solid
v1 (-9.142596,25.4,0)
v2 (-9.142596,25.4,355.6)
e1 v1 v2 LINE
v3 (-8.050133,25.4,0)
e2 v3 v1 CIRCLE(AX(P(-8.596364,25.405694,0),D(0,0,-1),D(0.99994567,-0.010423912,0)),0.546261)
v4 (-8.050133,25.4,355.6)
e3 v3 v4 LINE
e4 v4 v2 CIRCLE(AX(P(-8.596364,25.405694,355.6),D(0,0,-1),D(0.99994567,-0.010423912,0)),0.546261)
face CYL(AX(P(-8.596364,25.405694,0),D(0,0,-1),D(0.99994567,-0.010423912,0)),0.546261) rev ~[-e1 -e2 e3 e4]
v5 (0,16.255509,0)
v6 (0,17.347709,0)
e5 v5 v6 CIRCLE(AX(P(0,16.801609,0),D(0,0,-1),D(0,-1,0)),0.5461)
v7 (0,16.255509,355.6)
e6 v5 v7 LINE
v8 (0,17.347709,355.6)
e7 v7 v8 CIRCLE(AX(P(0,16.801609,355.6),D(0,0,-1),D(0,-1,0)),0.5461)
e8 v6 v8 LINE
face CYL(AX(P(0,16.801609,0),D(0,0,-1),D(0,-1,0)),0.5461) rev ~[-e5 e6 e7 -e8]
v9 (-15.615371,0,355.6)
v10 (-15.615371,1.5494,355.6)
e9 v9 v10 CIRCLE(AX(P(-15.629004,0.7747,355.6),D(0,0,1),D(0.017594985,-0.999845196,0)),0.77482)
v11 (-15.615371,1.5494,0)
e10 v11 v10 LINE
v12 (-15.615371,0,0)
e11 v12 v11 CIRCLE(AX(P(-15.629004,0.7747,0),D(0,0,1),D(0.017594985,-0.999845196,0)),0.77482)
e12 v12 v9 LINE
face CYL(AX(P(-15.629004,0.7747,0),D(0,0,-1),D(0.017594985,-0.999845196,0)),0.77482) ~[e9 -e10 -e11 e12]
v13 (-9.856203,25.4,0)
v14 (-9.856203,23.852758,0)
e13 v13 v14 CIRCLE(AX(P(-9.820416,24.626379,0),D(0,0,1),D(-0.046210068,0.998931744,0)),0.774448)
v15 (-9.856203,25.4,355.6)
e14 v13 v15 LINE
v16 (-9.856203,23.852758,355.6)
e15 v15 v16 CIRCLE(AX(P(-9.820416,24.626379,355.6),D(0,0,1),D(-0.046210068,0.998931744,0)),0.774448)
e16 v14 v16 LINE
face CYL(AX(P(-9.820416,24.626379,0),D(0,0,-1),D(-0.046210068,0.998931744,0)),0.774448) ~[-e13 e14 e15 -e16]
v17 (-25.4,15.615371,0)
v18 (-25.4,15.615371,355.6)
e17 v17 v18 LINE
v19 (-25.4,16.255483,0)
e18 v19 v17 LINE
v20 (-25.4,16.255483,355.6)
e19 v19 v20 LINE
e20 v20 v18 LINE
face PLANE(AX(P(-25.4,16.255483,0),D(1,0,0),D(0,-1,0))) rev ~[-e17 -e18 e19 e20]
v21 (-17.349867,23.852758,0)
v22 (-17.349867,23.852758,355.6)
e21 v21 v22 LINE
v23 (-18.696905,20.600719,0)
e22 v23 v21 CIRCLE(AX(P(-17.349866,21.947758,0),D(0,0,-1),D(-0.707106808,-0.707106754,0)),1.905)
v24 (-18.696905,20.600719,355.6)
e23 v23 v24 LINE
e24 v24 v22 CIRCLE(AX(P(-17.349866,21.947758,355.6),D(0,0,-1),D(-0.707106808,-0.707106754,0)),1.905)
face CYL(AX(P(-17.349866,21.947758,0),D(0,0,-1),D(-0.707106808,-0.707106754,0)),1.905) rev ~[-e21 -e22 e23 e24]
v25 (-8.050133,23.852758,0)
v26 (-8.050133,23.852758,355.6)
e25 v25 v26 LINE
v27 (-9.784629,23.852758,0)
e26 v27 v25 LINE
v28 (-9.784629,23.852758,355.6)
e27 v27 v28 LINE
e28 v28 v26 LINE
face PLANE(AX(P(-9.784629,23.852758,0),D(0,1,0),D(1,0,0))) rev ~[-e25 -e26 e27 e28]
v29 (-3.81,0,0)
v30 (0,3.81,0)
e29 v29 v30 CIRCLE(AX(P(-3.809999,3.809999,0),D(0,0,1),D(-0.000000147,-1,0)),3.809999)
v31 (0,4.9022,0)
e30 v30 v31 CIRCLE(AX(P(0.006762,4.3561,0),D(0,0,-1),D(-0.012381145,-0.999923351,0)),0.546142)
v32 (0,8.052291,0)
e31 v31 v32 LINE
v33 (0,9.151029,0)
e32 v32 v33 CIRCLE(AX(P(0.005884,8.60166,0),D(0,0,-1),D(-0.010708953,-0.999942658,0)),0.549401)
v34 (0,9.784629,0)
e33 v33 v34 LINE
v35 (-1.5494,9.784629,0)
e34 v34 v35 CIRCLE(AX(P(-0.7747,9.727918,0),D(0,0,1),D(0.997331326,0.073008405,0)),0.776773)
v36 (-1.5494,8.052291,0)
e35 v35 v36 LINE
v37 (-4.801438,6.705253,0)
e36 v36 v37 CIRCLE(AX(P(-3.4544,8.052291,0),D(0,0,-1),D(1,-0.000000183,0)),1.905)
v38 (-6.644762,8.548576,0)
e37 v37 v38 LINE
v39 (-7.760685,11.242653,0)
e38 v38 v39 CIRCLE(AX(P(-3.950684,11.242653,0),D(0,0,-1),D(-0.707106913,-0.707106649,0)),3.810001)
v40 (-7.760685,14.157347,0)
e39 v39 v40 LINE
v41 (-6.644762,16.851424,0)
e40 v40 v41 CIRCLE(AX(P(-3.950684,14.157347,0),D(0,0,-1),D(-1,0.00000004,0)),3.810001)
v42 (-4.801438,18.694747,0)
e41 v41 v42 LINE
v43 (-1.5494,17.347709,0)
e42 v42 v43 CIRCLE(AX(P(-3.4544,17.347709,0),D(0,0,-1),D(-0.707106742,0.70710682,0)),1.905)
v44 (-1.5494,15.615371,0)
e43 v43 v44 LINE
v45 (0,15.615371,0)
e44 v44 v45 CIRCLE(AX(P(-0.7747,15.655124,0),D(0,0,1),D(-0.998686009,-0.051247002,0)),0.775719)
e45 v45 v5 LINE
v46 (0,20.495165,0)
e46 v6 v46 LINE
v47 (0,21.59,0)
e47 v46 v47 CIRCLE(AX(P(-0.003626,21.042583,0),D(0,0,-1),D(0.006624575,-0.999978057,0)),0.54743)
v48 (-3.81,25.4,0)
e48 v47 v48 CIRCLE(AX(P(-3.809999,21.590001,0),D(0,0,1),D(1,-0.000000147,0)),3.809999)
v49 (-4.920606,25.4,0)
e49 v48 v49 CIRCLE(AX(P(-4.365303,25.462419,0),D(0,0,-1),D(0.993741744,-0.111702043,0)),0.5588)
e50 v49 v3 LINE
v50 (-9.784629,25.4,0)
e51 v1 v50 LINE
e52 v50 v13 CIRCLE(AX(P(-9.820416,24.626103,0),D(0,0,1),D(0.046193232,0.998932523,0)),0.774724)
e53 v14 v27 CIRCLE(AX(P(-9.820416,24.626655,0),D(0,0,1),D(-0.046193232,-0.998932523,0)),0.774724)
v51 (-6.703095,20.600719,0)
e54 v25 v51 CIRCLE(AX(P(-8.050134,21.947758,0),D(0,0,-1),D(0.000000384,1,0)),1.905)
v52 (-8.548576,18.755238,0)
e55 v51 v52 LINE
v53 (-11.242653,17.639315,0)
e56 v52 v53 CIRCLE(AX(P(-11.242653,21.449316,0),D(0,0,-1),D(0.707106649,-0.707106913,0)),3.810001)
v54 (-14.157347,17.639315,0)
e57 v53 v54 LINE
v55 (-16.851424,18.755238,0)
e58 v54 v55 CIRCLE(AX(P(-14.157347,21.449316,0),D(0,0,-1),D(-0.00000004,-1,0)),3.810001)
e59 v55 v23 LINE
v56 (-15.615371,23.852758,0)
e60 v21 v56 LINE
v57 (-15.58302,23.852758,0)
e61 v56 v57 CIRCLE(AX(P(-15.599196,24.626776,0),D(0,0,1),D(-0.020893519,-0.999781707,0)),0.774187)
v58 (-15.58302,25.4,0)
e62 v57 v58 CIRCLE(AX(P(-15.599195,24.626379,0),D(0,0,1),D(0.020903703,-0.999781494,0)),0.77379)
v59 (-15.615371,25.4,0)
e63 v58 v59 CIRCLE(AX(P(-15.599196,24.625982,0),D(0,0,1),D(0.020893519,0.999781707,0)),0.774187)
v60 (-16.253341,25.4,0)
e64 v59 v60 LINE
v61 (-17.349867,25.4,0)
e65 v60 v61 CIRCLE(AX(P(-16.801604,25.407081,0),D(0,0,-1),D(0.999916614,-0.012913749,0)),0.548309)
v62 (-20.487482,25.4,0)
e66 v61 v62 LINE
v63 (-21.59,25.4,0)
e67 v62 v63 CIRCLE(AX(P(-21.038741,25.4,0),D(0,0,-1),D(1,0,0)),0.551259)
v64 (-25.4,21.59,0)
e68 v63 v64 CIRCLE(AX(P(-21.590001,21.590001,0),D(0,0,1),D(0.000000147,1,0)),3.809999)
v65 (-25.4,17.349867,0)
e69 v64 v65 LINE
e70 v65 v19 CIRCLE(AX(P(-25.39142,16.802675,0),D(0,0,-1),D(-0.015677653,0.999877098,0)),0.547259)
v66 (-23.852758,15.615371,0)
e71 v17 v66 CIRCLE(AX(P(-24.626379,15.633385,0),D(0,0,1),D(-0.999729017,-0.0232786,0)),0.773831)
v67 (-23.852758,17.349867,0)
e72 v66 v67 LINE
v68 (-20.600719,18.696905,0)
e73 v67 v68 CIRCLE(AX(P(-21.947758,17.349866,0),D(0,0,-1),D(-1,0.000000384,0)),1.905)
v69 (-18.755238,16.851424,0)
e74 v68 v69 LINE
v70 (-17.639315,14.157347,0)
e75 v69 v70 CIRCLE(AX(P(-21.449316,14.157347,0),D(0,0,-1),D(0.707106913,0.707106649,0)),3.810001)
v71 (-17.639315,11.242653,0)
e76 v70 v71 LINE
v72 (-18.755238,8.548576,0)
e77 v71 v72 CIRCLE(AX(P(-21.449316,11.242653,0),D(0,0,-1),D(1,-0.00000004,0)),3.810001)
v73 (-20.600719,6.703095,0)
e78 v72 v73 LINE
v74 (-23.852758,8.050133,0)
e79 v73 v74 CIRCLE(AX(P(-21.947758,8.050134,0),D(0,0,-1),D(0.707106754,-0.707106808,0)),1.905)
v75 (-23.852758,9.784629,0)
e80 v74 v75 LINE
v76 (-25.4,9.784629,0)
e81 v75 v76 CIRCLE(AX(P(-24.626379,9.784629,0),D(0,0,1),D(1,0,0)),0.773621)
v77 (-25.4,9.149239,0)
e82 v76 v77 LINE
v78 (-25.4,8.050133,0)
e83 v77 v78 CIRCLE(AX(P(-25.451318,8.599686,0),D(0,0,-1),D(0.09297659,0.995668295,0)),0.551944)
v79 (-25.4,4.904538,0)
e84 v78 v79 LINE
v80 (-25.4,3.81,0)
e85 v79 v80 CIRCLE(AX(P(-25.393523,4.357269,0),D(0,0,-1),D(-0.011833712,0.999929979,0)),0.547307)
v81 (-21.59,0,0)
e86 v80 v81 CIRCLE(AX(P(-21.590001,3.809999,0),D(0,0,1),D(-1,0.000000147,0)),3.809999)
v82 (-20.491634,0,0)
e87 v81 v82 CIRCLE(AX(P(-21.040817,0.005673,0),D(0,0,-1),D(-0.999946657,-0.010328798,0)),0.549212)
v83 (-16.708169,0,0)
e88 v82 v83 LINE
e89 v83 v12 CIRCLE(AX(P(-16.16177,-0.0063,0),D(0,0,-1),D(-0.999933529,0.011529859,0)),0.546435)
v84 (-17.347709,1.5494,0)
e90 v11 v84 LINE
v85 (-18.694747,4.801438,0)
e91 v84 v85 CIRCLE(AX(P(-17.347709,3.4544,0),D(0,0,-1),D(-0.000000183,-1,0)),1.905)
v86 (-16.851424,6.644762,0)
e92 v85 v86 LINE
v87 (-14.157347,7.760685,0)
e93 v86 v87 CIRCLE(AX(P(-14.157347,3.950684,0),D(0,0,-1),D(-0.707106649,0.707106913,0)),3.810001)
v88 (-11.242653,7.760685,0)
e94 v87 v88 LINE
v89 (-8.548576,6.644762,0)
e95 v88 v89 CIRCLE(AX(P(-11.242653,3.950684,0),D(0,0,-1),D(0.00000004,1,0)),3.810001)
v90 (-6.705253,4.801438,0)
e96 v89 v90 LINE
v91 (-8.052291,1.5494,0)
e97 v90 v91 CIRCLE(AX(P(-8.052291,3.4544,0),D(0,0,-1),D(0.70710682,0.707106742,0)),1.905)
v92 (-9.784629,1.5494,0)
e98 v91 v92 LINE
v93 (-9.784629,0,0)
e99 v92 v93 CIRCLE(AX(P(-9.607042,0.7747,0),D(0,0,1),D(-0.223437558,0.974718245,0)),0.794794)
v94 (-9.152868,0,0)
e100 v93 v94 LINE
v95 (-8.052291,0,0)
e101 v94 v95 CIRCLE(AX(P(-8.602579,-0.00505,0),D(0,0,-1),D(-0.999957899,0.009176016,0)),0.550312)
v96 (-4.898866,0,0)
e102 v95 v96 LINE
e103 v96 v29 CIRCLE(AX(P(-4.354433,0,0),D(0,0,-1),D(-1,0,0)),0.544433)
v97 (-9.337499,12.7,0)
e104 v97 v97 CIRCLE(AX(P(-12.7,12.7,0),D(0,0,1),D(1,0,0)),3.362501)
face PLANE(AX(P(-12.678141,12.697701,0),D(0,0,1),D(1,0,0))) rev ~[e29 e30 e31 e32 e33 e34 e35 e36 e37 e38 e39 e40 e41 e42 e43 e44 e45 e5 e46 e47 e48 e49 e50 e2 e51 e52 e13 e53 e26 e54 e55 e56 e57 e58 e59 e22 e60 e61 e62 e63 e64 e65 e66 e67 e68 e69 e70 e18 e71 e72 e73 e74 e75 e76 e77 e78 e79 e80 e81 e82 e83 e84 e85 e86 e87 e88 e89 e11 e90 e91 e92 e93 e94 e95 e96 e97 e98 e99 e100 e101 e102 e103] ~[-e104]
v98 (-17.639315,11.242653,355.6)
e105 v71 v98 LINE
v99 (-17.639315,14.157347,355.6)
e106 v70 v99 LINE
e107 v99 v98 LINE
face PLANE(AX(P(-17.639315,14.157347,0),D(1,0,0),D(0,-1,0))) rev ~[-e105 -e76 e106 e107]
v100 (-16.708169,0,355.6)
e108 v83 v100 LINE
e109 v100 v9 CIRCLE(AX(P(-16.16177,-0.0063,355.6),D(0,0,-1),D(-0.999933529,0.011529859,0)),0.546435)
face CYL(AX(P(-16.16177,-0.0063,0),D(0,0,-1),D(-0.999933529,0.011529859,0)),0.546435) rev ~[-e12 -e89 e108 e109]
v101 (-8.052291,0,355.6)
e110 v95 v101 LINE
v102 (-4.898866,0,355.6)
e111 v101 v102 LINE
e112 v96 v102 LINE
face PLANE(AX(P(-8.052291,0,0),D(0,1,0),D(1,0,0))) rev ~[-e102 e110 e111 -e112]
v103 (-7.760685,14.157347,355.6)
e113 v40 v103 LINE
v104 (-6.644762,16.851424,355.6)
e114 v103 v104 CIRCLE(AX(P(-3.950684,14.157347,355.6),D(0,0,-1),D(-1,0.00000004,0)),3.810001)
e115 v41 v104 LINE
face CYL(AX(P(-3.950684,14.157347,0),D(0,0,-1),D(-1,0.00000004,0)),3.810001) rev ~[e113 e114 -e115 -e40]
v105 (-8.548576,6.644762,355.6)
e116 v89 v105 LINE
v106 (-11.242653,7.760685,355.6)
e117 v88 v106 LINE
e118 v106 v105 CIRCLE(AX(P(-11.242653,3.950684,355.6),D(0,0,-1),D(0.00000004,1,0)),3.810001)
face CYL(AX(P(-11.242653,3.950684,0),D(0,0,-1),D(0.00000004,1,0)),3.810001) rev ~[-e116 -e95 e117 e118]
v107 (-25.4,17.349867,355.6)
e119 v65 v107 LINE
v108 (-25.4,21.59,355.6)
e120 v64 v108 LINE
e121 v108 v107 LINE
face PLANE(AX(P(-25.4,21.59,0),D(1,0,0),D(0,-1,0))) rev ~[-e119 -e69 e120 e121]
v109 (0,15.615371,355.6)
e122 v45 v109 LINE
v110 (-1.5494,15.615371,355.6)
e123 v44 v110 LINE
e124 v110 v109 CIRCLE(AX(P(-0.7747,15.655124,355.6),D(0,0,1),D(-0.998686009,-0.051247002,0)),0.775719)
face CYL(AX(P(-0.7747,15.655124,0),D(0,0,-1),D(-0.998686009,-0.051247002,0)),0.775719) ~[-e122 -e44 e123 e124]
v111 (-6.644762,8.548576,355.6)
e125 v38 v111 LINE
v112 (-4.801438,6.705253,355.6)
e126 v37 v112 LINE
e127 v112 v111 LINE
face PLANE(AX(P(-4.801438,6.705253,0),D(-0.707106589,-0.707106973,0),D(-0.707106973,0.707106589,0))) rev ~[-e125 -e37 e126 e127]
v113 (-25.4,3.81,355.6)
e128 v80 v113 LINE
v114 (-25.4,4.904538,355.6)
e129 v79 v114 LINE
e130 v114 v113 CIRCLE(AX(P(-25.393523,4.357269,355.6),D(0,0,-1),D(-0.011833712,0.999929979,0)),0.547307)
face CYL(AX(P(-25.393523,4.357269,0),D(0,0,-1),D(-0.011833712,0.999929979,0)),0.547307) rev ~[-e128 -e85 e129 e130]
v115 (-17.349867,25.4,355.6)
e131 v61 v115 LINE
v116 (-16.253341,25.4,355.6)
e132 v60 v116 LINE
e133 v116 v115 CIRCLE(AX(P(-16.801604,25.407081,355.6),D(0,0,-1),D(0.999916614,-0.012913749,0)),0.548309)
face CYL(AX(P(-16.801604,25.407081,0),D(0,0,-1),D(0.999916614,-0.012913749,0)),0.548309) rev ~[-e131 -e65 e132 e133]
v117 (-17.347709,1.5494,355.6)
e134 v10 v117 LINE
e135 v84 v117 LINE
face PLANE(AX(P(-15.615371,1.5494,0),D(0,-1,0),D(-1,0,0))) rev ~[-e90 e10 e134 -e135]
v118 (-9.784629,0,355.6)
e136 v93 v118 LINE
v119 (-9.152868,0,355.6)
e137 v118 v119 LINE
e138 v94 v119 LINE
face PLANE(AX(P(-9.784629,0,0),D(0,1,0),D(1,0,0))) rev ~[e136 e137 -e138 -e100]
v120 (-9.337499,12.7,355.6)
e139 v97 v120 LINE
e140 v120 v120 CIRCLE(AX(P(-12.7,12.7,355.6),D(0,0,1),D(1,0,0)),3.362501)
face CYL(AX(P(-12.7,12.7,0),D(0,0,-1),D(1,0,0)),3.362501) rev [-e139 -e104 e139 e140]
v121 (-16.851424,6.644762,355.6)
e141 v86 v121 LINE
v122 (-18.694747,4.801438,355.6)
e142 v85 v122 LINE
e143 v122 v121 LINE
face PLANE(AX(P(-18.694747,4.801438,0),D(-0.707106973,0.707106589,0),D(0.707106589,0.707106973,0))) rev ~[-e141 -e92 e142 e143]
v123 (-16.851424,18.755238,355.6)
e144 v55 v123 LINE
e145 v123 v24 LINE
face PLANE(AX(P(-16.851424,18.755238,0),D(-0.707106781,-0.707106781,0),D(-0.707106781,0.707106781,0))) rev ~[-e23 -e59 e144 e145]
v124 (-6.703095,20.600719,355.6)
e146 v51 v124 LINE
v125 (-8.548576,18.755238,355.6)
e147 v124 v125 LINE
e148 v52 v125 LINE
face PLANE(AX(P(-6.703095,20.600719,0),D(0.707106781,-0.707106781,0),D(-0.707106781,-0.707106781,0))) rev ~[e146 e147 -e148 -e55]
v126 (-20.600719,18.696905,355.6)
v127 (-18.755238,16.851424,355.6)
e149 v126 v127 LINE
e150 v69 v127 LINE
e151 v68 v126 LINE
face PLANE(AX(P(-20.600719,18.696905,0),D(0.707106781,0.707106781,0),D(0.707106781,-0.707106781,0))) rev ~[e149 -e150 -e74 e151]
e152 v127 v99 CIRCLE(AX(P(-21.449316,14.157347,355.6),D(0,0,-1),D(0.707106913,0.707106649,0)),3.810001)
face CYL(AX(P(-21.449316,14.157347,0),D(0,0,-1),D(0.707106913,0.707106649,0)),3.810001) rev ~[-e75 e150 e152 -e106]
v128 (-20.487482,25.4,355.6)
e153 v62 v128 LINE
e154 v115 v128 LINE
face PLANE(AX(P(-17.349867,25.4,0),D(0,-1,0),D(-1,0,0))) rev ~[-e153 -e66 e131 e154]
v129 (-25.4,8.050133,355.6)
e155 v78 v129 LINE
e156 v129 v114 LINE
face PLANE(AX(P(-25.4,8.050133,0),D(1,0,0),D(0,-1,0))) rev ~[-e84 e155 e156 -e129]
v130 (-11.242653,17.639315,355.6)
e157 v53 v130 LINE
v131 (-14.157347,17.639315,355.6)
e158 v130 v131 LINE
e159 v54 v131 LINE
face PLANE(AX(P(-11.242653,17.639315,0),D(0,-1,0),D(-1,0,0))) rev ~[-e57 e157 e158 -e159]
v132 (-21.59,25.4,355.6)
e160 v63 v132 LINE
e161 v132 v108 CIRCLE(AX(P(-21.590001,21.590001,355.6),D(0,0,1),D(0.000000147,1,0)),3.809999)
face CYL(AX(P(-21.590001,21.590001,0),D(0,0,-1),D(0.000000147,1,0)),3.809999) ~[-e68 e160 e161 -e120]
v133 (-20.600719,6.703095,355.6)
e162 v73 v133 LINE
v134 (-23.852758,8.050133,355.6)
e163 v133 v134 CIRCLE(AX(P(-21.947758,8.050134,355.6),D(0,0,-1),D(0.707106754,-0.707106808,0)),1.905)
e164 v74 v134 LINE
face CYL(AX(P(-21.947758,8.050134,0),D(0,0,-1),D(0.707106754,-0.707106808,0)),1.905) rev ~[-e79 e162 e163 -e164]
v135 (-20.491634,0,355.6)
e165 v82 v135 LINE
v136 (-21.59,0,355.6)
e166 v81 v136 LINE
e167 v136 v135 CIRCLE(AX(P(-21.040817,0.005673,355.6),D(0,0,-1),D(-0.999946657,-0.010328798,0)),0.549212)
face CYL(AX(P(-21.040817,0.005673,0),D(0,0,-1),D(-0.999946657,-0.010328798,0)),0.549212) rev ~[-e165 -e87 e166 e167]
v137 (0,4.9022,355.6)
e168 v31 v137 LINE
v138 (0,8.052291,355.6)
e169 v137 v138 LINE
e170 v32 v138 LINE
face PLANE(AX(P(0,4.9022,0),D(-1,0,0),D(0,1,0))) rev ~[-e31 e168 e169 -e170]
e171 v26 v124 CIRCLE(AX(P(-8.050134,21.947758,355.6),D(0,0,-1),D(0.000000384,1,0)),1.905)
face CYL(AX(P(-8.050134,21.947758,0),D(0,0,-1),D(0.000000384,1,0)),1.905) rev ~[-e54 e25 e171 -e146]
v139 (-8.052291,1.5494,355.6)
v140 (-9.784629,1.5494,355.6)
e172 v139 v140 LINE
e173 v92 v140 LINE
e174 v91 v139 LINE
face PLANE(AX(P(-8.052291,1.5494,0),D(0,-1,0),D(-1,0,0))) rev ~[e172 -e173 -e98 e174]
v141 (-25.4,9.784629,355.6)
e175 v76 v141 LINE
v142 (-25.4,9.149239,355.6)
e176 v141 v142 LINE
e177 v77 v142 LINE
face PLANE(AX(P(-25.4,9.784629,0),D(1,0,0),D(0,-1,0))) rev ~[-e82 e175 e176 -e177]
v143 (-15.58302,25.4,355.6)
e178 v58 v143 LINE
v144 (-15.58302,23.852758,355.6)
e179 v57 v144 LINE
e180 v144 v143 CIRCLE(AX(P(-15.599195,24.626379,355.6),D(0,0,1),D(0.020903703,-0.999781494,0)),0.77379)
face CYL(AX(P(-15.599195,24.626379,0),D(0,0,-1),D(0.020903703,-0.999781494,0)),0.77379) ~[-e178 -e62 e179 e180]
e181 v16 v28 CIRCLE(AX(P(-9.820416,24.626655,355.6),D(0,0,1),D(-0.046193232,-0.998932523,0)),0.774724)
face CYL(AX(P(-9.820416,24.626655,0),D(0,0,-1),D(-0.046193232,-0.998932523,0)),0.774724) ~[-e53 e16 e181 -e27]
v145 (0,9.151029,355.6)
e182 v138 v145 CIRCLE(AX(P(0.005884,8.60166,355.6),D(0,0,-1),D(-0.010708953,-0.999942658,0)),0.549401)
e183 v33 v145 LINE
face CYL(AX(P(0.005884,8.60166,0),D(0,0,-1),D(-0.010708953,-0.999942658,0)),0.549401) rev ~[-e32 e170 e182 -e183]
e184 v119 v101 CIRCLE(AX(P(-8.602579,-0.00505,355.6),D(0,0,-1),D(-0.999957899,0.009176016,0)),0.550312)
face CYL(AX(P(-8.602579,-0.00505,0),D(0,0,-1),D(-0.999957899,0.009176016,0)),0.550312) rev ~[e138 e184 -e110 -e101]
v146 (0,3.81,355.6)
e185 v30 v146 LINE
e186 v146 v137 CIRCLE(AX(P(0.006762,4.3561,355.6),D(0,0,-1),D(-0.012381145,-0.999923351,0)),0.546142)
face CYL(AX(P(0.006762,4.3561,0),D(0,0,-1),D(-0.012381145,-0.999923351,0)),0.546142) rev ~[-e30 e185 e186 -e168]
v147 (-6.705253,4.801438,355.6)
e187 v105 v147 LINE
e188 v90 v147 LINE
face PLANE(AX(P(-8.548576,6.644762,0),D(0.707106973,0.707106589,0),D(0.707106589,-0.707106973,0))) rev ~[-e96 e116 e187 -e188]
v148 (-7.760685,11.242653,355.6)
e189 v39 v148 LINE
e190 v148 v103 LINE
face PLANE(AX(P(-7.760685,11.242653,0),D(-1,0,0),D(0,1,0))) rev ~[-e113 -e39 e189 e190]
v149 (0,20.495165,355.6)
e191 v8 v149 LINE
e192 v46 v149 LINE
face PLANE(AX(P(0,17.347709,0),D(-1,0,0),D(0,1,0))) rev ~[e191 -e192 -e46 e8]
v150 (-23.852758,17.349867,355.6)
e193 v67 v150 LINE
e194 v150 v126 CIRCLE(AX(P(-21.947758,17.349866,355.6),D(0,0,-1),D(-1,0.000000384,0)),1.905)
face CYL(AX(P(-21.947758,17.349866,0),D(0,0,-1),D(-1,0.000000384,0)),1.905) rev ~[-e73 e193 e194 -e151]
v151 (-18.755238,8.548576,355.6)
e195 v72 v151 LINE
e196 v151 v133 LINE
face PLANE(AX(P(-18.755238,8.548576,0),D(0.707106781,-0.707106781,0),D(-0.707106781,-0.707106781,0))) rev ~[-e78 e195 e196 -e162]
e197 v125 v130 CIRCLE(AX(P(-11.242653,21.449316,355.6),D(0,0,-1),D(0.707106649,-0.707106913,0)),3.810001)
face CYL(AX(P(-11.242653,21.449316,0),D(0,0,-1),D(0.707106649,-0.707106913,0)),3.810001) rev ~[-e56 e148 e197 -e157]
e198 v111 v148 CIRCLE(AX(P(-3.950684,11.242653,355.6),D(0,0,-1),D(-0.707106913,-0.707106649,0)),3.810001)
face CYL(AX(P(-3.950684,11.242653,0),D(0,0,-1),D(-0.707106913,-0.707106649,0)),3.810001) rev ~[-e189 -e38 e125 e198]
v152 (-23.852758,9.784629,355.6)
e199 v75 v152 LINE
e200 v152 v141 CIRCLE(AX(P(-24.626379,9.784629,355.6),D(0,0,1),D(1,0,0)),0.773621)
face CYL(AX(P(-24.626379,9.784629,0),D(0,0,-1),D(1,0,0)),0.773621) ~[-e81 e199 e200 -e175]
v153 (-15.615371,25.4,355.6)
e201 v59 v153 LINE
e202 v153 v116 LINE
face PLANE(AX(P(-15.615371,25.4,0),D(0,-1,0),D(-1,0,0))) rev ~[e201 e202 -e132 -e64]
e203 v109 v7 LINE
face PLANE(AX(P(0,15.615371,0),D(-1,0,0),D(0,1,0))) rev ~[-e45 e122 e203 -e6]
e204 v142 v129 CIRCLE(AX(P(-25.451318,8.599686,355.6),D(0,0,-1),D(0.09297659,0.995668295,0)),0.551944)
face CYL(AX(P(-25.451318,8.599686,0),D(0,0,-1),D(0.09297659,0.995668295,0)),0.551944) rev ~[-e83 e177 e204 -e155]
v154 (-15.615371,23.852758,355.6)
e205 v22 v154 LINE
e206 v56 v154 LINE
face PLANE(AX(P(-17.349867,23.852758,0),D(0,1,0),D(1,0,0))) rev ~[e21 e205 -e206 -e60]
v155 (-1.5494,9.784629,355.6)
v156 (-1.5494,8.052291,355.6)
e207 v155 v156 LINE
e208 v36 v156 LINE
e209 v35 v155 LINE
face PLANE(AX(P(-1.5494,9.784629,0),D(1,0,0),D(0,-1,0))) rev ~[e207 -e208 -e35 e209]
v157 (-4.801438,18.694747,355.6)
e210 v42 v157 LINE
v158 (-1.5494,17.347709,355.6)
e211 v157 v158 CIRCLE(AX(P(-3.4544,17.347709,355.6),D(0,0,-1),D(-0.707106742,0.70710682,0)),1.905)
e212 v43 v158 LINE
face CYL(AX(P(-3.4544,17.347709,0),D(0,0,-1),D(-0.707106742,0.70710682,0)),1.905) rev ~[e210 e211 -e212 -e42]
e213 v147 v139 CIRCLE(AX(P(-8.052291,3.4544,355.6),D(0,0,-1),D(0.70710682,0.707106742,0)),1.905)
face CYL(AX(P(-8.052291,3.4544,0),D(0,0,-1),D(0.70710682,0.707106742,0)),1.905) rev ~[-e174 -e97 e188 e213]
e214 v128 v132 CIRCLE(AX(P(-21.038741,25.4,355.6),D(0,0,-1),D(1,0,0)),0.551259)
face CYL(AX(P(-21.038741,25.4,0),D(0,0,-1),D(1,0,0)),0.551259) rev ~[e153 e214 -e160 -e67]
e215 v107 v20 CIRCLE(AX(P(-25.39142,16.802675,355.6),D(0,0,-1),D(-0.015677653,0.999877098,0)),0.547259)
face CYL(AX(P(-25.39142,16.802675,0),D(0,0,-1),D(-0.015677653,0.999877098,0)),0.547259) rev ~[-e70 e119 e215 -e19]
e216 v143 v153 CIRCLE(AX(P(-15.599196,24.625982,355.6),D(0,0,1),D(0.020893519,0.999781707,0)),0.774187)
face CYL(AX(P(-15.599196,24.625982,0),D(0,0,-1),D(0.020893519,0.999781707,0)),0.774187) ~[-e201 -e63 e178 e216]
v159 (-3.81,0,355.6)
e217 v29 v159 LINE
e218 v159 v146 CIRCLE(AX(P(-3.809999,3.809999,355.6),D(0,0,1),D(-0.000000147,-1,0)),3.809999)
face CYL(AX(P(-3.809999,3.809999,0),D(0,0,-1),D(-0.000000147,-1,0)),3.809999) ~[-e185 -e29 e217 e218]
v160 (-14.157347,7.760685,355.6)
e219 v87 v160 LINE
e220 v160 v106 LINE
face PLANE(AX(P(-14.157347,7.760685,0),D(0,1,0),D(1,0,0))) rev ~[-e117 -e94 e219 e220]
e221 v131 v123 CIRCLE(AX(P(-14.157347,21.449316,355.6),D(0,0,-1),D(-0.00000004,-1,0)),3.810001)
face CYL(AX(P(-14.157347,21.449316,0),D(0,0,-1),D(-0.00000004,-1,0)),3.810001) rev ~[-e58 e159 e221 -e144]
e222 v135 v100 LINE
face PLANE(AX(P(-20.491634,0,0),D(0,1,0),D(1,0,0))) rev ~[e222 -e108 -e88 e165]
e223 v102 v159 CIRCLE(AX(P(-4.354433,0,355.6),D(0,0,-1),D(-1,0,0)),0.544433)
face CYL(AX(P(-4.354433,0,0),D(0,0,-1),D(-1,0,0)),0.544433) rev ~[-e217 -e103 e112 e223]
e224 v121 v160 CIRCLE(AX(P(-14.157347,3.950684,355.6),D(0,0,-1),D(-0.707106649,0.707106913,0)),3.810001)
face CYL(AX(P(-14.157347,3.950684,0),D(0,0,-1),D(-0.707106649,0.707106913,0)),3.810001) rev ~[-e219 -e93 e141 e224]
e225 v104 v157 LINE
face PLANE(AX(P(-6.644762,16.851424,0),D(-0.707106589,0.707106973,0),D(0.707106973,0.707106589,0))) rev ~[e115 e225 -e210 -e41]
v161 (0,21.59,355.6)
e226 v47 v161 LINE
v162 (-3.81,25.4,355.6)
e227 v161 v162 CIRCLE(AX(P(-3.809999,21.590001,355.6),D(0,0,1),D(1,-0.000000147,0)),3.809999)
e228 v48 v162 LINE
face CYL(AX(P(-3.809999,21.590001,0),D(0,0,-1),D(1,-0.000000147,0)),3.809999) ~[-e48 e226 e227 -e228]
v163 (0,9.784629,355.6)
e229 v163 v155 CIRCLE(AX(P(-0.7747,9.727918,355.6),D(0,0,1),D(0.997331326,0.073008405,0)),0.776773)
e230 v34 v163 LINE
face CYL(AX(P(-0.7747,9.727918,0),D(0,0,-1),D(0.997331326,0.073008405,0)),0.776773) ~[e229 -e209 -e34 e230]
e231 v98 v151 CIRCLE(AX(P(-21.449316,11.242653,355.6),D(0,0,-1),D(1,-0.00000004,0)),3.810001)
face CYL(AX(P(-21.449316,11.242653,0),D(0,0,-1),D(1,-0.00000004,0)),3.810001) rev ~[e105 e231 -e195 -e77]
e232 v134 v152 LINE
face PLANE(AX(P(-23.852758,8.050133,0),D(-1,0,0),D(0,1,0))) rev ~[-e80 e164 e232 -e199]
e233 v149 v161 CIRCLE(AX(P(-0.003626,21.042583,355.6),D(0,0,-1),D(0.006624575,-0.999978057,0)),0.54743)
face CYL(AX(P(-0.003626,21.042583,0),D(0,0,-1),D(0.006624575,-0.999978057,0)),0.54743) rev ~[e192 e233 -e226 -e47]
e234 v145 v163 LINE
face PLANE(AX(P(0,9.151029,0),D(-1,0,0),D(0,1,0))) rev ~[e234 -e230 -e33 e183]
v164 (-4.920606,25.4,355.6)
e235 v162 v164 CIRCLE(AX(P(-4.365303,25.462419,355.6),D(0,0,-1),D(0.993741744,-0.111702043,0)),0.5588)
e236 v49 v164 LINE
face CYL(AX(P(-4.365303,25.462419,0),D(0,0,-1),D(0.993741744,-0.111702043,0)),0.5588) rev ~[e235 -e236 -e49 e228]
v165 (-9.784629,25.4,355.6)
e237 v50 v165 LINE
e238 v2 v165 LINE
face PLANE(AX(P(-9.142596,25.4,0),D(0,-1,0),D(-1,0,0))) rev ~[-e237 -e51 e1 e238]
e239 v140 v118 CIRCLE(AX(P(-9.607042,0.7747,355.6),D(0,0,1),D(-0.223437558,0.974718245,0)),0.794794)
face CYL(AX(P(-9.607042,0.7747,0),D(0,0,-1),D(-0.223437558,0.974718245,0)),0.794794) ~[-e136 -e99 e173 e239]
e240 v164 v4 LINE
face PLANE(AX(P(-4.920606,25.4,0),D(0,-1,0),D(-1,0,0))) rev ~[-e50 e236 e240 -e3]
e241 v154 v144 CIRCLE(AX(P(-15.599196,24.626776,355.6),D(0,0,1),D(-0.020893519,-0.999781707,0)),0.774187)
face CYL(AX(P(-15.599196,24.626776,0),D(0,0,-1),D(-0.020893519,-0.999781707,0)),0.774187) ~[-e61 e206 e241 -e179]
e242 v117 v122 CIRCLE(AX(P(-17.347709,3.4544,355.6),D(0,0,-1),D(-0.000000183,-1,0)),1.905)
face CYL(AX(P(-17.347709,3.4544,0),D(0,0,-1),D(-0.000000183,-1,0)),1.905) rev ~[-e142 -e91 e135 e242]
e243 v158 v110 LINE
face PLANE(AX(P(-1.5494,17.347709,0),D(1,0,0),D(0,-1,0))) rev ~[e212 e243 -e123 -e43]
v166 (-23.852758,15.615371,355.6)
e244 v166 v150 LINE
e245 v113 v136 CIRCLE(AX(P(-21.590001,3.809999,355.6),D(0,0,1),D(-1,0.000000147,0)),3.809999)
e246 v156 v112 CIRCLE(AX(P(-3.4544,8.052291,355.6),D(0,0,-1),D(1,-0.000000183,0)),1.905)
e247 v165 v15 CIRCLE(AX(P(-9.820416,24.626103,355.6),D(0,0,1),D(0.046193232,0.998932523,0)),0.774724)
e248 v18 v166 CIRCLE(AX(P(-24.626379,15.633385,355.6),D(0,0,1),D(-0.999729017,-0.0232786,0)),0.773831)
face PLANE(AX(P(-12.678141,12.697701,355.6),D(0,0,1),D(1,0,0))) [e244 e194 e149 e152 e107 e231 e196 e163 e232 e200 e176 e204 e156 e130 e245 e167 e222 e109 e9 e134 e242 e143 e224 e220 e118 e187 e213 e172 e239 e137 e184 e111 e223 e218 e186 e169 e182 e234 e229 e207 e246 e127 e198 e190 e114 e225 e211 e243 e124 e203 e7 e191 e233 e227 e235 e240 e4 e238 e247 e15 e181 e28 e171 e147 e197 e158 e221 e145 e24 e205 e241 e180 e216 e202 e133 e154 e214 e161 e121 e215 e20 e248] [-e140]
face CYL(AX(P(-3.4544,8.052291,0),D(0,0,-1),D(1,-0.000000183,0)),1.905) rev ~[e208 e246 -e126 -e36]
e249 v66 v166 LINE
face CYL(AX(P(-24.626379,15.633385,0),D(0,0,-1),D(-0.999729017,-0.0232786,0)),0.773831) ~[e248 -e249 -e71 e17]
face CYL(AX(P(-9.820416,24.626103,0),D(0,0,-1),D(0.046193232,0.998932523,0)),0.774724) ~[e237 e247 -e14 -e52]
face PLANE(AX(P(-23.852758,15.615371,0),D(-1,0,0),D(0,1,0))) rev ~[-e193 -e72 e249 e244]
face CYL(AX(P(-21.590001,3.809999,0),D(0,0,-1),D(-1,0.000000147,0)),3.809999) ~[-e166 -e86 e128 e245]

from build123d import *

# Parameters (mm, degrees)
F0_R     = 3.362501
F1_DEPTH = 355.6


with BuildPart() as f1:
    # F0 (on Top) → F1 (new body)
    with BuildSketch(Plane.XY):
        with BuildLine():
            ThreePointArc((-8.548576, 18.755238), (-9.784629, 17.929334), (-11.242653, 17.639315))
            Line((-11.242653, 17.639315), (-14.157347, 17.639315))
            ThreePointArc((-14.157347, 17.639315), (-15.615371, 17.929334), (-16.851424, 18.755238))
            Line((-16.851424, 18.755238), (-18.696905, 20.600719))
            ThreePointArc((-18.696905, 20.600719), (-19.109857, 22.67677), (-17.349867, 23.852758))
            Line((-17.349867, 23.852758), (-15.615371, 23.852758))
            Line((-15.615371, 23.852758), (-15.58302, 23.852758))
            ThreePointArc((-15.58302, 23.852758), (-14.825405, 24.626379), (-15.58302, 25.4))
            Line((-15.58302, 25.4), (-15.615371, 25.4))
            Line((-15.615371, 25.4), (-16.253341, 25.4))
            ThreePointArc((-16.253341, 25.4), (-16.801604, 24.858772), (-17.349867, 25.4))
            Line((-17.349867, 25.4), (-20.487482, 25.4))
            ThreePointArc((-20.487482, 25.4), (-21.038741, 24.848741), (-21.59, 25.4))
            ThreePointArc((-21.59, 25.4), (-24.284077, 24.284077), (-25.4, 21.59))
            Line((-25.4, 21.59), (-25.4, 20.504724))
            Line((-25.4, 20.504724), (-25.4, 17.349867))
            ThreePointArc((-25.4, 17.349867), (-24.844161, 16.802675), (-25.4, 16.255483))
            Line((-25.4, 16.255483), (-25.4, 15.615371))
            ThreePointArc((-25.4, 15.615371), (-24.626379, 14.859554), (-23.852758, 15.615371))
            Line((-23.852758, 15.615371), (-23.852758, 17.349867))
            ThreePointArc((-23.852758, 17.349867), (-22.67677, 19.109857), (-20.600719, 18.696905))
            Line((-20.600719, 18.696905), (-18.755238, 16.851424))
            ThreePointArc((-18.755238, 16.851424), (-17.929334, 15.615371), (-17.639315, 14.157347))
            Line((-17.639315, 14.157347), (-17.639315, 11.242653))
            ThreePointArc((-17.639315, 11.242653), (-17.929334, 9.784629), (-18.755238, 8.548576))
            Line((-18.755238, 8.548576), (-20.600719, 6.703095))
            ThreePointArc((-20.600719, 6.703095), (-22.67677, 6.290143), (-23.852758, 8.050133))
            Line((-23.852758, 8.050133), (-23.852758, 9.784629))
            ThreePointArc((-23.852758, 9.784629), (-24.626379, 10.55825), (-25.4, 9.784629))
            Line((-25.4, 9.784629), (-25.4, 9.149239))
            ThreePointArc((-25.4, 9.149239), (-24.899374, 8.599686), (-25.4, 8.050133))
            Line((-25.4, 8.050133), (-25.4, 4.904538))
            ThreePointArc((-25.4, 4.904538), (-24.846216, 4.357269), (-25.4, 3.81))
            ThreePointArc((-25.4, 3.81), (-24.284077, 1.115923), (-21.59, 0))
            ThreePointArc((-21.59, 0), (-21.040817, 0.554885), (-20.491634, 0))
            Line((-20.491634, 0), (-16.708169, 0))
            ThreePointArc((-16.708169, 0), (-16.16177, 0.540135), (-15.615371, 0))
            ThreePointArc((-15.615371, 0), (-14.854184, 0.7747), (-15.615371, 1.5494))
            Line((-15.615371, 1.5494), (-17.347709, 1.5494))
            ThreePointArc((-17.347709, 1.5494), (-19.107699, 2.725388), (-18.694747, 4.801438))
            Line((-18.694747, 4.801438), (-16.851424, 6.644762))
            ThreePointArc((-16.851424, 6.644762), (-15.615371, 7.470666), (-14.157347, 7.760685))
            Line((-14.157347, 7.760685), (-11.242653, 7.760685))
            ThreePointArc((-11.242653, 7.760685), (-9.784629, 7.470666), (-8.548576, 6.644762))
            Line((-8.548576, 6.644762), (-6.705253, 4.801438))
            ThreePointArc((-6.705253, 4.801438), (-6.292301, 2.725388), (-8.052291, 1.5494))
            Line((-8.052291, 1.5494), (-9.784629, 1.5494))
            ThreePointArc((-9.784629, 1.5494), (-10.401836, 0.7747), (-9.784629, 0))
            Line((-9.784629, 0), (-9.152868, 0))
            ThreePointArc((-9.152868, 0), (-8.602579, 0.545262), (-8.052291, 0))
            Line((-8.052291, 0), (-4.898866, 0))
            ThreePointArc((-4.898866, 0), (-4.354433, 0.544433), (-3.81, 0))
            ThreePointArc((-3.81, 0), (-1.115923, 1.115923), (0, 3.81))
            ThreePointArc((0, 3.81), (-0.53938, 4.3561), (0, 4.9022))
            Line((0, 4.9022), (0, 8.052291))
            ThreePointArc((0, 8.052291), (-0.543517, 8.60166), (0, 9.151029))
            Line((0, 9.151029), (0, 9.784629))
            ThreePointArc((0, 9.784629), (-0.7747, 10.504691), (-1.5494, 9.784629))
            Line((-1.5494, 9.784629), (-1.5494, 8.052291))
            ThreePointArc((-1.5494, 8.052291), (-2.725388, 6.292301), (-4.801438, 6.705253))
            Line((-4.801438, 6.705253), (-6.644762, 8.548576))
            ThreePointArc((-6.644762, 8.548576), (-7.470666, 9.784629), (-7.760685, 11.242653))
            Line((-7.760685, 11.242653), (-7.760685, 14.157347))
            ThreePointArc((-7.760685, 14.157347), (-7.470666, 15.615371), (-6.644762, 16.851424))
            Line((-6.644762, 16.851424), (-4.801438, 18.694747))
            ThreePointArc((-4.801438, 18.694747), (-2.725388, 19.107699), (-1.5494, 17.347709))
            Line((-1.5494, 17.347709), (-1.5494, 15.615371))
            ThreePointArc((-1.5494, 15.615371), (-0.7747, 14.879405), (0, 15.615371))
            Line((0, 15.615371), (0, 16.255509))
            ThreePointArc((0, 16.255509), (-0.5461, 16.801609), (0, 17.347709))
            Line((0, 17.347709), (0, 20.495165))
            ThreePointArc((0, 20.495165), (-0.551056, 21.042583), (0, 21.59))
            ThreePointArc((0, 21.59), (-1.115923, 24.284077), (-3.81, 25.4))
            ThreePointArc((-3.81, 25.4), (-4.365303, 24.903619), (-4.920606, 25.4))
            Line((-4.920606, 25.4), (-8.050133, 25.4))
            ThreePointArc((-8.050133, 25.4), (-8.596365, 24.859433), (-9.142596, 25.4))
            Line((-9.142596, 25.4), (-9.784629, 25.4))
            Line((-9.784629, 25.4), (-9.856203, 25.4))
            ThreePointArc((-9.856203, 25.4), (-10.594864, 24.626379), (-9.856203, 23.852758))
            Line((-9.856203, 23.852758), (-9.784629, 23.852758))
            Line((-9.784629, 23.852758), (-8.050133, 23.852758))
            ThreePointArc((-8.050133, 23.852758), (-6.290143, 22.67677), (-6.703095, 20.600719))
            Line((-6.703095, 20.600719), (-8.548576, 18.755238))
        make_face()
        with Locations((-12.7, 12.7)):
            Circle(F0_R, mode=Mode.SUBTRACT)
        with BuildLine():
            ThreePointArc((-9.856203, 23.852758), (-9.820416, 23.851931), (-9.784629, 23.852758))
            Line((-9.784629, 23.852758), (-9.856203, 23.852758))
        make_face()
        with BuildLine():
            Line((-15.58302, 23.852758), (-15.615371, 23.852758))
            ThreePointArc((-15.615371, 23.852758), (-15.599195, 23.852589), (-15.58302, 23.852758))
        make_face()
        with BuildLine():
            ThreePointArc((-9.784629, 25.4), (-9.820416, 25.400827), (-9.856203, 25.4))
            Line((-9.856203, 25.4), (-9.784629, 25.4))
        make_face()
        with BuildLine():
            Line((-15.615371, 25.4), (-15.58302, 25.4))
            ThreePointArc((-15.58302, 25.4), (-15.599195, 25.400169), (-15.615371, 25.4))
        make_face()
    extrude(amount=F1_DEPTH)


solid = f1.part
